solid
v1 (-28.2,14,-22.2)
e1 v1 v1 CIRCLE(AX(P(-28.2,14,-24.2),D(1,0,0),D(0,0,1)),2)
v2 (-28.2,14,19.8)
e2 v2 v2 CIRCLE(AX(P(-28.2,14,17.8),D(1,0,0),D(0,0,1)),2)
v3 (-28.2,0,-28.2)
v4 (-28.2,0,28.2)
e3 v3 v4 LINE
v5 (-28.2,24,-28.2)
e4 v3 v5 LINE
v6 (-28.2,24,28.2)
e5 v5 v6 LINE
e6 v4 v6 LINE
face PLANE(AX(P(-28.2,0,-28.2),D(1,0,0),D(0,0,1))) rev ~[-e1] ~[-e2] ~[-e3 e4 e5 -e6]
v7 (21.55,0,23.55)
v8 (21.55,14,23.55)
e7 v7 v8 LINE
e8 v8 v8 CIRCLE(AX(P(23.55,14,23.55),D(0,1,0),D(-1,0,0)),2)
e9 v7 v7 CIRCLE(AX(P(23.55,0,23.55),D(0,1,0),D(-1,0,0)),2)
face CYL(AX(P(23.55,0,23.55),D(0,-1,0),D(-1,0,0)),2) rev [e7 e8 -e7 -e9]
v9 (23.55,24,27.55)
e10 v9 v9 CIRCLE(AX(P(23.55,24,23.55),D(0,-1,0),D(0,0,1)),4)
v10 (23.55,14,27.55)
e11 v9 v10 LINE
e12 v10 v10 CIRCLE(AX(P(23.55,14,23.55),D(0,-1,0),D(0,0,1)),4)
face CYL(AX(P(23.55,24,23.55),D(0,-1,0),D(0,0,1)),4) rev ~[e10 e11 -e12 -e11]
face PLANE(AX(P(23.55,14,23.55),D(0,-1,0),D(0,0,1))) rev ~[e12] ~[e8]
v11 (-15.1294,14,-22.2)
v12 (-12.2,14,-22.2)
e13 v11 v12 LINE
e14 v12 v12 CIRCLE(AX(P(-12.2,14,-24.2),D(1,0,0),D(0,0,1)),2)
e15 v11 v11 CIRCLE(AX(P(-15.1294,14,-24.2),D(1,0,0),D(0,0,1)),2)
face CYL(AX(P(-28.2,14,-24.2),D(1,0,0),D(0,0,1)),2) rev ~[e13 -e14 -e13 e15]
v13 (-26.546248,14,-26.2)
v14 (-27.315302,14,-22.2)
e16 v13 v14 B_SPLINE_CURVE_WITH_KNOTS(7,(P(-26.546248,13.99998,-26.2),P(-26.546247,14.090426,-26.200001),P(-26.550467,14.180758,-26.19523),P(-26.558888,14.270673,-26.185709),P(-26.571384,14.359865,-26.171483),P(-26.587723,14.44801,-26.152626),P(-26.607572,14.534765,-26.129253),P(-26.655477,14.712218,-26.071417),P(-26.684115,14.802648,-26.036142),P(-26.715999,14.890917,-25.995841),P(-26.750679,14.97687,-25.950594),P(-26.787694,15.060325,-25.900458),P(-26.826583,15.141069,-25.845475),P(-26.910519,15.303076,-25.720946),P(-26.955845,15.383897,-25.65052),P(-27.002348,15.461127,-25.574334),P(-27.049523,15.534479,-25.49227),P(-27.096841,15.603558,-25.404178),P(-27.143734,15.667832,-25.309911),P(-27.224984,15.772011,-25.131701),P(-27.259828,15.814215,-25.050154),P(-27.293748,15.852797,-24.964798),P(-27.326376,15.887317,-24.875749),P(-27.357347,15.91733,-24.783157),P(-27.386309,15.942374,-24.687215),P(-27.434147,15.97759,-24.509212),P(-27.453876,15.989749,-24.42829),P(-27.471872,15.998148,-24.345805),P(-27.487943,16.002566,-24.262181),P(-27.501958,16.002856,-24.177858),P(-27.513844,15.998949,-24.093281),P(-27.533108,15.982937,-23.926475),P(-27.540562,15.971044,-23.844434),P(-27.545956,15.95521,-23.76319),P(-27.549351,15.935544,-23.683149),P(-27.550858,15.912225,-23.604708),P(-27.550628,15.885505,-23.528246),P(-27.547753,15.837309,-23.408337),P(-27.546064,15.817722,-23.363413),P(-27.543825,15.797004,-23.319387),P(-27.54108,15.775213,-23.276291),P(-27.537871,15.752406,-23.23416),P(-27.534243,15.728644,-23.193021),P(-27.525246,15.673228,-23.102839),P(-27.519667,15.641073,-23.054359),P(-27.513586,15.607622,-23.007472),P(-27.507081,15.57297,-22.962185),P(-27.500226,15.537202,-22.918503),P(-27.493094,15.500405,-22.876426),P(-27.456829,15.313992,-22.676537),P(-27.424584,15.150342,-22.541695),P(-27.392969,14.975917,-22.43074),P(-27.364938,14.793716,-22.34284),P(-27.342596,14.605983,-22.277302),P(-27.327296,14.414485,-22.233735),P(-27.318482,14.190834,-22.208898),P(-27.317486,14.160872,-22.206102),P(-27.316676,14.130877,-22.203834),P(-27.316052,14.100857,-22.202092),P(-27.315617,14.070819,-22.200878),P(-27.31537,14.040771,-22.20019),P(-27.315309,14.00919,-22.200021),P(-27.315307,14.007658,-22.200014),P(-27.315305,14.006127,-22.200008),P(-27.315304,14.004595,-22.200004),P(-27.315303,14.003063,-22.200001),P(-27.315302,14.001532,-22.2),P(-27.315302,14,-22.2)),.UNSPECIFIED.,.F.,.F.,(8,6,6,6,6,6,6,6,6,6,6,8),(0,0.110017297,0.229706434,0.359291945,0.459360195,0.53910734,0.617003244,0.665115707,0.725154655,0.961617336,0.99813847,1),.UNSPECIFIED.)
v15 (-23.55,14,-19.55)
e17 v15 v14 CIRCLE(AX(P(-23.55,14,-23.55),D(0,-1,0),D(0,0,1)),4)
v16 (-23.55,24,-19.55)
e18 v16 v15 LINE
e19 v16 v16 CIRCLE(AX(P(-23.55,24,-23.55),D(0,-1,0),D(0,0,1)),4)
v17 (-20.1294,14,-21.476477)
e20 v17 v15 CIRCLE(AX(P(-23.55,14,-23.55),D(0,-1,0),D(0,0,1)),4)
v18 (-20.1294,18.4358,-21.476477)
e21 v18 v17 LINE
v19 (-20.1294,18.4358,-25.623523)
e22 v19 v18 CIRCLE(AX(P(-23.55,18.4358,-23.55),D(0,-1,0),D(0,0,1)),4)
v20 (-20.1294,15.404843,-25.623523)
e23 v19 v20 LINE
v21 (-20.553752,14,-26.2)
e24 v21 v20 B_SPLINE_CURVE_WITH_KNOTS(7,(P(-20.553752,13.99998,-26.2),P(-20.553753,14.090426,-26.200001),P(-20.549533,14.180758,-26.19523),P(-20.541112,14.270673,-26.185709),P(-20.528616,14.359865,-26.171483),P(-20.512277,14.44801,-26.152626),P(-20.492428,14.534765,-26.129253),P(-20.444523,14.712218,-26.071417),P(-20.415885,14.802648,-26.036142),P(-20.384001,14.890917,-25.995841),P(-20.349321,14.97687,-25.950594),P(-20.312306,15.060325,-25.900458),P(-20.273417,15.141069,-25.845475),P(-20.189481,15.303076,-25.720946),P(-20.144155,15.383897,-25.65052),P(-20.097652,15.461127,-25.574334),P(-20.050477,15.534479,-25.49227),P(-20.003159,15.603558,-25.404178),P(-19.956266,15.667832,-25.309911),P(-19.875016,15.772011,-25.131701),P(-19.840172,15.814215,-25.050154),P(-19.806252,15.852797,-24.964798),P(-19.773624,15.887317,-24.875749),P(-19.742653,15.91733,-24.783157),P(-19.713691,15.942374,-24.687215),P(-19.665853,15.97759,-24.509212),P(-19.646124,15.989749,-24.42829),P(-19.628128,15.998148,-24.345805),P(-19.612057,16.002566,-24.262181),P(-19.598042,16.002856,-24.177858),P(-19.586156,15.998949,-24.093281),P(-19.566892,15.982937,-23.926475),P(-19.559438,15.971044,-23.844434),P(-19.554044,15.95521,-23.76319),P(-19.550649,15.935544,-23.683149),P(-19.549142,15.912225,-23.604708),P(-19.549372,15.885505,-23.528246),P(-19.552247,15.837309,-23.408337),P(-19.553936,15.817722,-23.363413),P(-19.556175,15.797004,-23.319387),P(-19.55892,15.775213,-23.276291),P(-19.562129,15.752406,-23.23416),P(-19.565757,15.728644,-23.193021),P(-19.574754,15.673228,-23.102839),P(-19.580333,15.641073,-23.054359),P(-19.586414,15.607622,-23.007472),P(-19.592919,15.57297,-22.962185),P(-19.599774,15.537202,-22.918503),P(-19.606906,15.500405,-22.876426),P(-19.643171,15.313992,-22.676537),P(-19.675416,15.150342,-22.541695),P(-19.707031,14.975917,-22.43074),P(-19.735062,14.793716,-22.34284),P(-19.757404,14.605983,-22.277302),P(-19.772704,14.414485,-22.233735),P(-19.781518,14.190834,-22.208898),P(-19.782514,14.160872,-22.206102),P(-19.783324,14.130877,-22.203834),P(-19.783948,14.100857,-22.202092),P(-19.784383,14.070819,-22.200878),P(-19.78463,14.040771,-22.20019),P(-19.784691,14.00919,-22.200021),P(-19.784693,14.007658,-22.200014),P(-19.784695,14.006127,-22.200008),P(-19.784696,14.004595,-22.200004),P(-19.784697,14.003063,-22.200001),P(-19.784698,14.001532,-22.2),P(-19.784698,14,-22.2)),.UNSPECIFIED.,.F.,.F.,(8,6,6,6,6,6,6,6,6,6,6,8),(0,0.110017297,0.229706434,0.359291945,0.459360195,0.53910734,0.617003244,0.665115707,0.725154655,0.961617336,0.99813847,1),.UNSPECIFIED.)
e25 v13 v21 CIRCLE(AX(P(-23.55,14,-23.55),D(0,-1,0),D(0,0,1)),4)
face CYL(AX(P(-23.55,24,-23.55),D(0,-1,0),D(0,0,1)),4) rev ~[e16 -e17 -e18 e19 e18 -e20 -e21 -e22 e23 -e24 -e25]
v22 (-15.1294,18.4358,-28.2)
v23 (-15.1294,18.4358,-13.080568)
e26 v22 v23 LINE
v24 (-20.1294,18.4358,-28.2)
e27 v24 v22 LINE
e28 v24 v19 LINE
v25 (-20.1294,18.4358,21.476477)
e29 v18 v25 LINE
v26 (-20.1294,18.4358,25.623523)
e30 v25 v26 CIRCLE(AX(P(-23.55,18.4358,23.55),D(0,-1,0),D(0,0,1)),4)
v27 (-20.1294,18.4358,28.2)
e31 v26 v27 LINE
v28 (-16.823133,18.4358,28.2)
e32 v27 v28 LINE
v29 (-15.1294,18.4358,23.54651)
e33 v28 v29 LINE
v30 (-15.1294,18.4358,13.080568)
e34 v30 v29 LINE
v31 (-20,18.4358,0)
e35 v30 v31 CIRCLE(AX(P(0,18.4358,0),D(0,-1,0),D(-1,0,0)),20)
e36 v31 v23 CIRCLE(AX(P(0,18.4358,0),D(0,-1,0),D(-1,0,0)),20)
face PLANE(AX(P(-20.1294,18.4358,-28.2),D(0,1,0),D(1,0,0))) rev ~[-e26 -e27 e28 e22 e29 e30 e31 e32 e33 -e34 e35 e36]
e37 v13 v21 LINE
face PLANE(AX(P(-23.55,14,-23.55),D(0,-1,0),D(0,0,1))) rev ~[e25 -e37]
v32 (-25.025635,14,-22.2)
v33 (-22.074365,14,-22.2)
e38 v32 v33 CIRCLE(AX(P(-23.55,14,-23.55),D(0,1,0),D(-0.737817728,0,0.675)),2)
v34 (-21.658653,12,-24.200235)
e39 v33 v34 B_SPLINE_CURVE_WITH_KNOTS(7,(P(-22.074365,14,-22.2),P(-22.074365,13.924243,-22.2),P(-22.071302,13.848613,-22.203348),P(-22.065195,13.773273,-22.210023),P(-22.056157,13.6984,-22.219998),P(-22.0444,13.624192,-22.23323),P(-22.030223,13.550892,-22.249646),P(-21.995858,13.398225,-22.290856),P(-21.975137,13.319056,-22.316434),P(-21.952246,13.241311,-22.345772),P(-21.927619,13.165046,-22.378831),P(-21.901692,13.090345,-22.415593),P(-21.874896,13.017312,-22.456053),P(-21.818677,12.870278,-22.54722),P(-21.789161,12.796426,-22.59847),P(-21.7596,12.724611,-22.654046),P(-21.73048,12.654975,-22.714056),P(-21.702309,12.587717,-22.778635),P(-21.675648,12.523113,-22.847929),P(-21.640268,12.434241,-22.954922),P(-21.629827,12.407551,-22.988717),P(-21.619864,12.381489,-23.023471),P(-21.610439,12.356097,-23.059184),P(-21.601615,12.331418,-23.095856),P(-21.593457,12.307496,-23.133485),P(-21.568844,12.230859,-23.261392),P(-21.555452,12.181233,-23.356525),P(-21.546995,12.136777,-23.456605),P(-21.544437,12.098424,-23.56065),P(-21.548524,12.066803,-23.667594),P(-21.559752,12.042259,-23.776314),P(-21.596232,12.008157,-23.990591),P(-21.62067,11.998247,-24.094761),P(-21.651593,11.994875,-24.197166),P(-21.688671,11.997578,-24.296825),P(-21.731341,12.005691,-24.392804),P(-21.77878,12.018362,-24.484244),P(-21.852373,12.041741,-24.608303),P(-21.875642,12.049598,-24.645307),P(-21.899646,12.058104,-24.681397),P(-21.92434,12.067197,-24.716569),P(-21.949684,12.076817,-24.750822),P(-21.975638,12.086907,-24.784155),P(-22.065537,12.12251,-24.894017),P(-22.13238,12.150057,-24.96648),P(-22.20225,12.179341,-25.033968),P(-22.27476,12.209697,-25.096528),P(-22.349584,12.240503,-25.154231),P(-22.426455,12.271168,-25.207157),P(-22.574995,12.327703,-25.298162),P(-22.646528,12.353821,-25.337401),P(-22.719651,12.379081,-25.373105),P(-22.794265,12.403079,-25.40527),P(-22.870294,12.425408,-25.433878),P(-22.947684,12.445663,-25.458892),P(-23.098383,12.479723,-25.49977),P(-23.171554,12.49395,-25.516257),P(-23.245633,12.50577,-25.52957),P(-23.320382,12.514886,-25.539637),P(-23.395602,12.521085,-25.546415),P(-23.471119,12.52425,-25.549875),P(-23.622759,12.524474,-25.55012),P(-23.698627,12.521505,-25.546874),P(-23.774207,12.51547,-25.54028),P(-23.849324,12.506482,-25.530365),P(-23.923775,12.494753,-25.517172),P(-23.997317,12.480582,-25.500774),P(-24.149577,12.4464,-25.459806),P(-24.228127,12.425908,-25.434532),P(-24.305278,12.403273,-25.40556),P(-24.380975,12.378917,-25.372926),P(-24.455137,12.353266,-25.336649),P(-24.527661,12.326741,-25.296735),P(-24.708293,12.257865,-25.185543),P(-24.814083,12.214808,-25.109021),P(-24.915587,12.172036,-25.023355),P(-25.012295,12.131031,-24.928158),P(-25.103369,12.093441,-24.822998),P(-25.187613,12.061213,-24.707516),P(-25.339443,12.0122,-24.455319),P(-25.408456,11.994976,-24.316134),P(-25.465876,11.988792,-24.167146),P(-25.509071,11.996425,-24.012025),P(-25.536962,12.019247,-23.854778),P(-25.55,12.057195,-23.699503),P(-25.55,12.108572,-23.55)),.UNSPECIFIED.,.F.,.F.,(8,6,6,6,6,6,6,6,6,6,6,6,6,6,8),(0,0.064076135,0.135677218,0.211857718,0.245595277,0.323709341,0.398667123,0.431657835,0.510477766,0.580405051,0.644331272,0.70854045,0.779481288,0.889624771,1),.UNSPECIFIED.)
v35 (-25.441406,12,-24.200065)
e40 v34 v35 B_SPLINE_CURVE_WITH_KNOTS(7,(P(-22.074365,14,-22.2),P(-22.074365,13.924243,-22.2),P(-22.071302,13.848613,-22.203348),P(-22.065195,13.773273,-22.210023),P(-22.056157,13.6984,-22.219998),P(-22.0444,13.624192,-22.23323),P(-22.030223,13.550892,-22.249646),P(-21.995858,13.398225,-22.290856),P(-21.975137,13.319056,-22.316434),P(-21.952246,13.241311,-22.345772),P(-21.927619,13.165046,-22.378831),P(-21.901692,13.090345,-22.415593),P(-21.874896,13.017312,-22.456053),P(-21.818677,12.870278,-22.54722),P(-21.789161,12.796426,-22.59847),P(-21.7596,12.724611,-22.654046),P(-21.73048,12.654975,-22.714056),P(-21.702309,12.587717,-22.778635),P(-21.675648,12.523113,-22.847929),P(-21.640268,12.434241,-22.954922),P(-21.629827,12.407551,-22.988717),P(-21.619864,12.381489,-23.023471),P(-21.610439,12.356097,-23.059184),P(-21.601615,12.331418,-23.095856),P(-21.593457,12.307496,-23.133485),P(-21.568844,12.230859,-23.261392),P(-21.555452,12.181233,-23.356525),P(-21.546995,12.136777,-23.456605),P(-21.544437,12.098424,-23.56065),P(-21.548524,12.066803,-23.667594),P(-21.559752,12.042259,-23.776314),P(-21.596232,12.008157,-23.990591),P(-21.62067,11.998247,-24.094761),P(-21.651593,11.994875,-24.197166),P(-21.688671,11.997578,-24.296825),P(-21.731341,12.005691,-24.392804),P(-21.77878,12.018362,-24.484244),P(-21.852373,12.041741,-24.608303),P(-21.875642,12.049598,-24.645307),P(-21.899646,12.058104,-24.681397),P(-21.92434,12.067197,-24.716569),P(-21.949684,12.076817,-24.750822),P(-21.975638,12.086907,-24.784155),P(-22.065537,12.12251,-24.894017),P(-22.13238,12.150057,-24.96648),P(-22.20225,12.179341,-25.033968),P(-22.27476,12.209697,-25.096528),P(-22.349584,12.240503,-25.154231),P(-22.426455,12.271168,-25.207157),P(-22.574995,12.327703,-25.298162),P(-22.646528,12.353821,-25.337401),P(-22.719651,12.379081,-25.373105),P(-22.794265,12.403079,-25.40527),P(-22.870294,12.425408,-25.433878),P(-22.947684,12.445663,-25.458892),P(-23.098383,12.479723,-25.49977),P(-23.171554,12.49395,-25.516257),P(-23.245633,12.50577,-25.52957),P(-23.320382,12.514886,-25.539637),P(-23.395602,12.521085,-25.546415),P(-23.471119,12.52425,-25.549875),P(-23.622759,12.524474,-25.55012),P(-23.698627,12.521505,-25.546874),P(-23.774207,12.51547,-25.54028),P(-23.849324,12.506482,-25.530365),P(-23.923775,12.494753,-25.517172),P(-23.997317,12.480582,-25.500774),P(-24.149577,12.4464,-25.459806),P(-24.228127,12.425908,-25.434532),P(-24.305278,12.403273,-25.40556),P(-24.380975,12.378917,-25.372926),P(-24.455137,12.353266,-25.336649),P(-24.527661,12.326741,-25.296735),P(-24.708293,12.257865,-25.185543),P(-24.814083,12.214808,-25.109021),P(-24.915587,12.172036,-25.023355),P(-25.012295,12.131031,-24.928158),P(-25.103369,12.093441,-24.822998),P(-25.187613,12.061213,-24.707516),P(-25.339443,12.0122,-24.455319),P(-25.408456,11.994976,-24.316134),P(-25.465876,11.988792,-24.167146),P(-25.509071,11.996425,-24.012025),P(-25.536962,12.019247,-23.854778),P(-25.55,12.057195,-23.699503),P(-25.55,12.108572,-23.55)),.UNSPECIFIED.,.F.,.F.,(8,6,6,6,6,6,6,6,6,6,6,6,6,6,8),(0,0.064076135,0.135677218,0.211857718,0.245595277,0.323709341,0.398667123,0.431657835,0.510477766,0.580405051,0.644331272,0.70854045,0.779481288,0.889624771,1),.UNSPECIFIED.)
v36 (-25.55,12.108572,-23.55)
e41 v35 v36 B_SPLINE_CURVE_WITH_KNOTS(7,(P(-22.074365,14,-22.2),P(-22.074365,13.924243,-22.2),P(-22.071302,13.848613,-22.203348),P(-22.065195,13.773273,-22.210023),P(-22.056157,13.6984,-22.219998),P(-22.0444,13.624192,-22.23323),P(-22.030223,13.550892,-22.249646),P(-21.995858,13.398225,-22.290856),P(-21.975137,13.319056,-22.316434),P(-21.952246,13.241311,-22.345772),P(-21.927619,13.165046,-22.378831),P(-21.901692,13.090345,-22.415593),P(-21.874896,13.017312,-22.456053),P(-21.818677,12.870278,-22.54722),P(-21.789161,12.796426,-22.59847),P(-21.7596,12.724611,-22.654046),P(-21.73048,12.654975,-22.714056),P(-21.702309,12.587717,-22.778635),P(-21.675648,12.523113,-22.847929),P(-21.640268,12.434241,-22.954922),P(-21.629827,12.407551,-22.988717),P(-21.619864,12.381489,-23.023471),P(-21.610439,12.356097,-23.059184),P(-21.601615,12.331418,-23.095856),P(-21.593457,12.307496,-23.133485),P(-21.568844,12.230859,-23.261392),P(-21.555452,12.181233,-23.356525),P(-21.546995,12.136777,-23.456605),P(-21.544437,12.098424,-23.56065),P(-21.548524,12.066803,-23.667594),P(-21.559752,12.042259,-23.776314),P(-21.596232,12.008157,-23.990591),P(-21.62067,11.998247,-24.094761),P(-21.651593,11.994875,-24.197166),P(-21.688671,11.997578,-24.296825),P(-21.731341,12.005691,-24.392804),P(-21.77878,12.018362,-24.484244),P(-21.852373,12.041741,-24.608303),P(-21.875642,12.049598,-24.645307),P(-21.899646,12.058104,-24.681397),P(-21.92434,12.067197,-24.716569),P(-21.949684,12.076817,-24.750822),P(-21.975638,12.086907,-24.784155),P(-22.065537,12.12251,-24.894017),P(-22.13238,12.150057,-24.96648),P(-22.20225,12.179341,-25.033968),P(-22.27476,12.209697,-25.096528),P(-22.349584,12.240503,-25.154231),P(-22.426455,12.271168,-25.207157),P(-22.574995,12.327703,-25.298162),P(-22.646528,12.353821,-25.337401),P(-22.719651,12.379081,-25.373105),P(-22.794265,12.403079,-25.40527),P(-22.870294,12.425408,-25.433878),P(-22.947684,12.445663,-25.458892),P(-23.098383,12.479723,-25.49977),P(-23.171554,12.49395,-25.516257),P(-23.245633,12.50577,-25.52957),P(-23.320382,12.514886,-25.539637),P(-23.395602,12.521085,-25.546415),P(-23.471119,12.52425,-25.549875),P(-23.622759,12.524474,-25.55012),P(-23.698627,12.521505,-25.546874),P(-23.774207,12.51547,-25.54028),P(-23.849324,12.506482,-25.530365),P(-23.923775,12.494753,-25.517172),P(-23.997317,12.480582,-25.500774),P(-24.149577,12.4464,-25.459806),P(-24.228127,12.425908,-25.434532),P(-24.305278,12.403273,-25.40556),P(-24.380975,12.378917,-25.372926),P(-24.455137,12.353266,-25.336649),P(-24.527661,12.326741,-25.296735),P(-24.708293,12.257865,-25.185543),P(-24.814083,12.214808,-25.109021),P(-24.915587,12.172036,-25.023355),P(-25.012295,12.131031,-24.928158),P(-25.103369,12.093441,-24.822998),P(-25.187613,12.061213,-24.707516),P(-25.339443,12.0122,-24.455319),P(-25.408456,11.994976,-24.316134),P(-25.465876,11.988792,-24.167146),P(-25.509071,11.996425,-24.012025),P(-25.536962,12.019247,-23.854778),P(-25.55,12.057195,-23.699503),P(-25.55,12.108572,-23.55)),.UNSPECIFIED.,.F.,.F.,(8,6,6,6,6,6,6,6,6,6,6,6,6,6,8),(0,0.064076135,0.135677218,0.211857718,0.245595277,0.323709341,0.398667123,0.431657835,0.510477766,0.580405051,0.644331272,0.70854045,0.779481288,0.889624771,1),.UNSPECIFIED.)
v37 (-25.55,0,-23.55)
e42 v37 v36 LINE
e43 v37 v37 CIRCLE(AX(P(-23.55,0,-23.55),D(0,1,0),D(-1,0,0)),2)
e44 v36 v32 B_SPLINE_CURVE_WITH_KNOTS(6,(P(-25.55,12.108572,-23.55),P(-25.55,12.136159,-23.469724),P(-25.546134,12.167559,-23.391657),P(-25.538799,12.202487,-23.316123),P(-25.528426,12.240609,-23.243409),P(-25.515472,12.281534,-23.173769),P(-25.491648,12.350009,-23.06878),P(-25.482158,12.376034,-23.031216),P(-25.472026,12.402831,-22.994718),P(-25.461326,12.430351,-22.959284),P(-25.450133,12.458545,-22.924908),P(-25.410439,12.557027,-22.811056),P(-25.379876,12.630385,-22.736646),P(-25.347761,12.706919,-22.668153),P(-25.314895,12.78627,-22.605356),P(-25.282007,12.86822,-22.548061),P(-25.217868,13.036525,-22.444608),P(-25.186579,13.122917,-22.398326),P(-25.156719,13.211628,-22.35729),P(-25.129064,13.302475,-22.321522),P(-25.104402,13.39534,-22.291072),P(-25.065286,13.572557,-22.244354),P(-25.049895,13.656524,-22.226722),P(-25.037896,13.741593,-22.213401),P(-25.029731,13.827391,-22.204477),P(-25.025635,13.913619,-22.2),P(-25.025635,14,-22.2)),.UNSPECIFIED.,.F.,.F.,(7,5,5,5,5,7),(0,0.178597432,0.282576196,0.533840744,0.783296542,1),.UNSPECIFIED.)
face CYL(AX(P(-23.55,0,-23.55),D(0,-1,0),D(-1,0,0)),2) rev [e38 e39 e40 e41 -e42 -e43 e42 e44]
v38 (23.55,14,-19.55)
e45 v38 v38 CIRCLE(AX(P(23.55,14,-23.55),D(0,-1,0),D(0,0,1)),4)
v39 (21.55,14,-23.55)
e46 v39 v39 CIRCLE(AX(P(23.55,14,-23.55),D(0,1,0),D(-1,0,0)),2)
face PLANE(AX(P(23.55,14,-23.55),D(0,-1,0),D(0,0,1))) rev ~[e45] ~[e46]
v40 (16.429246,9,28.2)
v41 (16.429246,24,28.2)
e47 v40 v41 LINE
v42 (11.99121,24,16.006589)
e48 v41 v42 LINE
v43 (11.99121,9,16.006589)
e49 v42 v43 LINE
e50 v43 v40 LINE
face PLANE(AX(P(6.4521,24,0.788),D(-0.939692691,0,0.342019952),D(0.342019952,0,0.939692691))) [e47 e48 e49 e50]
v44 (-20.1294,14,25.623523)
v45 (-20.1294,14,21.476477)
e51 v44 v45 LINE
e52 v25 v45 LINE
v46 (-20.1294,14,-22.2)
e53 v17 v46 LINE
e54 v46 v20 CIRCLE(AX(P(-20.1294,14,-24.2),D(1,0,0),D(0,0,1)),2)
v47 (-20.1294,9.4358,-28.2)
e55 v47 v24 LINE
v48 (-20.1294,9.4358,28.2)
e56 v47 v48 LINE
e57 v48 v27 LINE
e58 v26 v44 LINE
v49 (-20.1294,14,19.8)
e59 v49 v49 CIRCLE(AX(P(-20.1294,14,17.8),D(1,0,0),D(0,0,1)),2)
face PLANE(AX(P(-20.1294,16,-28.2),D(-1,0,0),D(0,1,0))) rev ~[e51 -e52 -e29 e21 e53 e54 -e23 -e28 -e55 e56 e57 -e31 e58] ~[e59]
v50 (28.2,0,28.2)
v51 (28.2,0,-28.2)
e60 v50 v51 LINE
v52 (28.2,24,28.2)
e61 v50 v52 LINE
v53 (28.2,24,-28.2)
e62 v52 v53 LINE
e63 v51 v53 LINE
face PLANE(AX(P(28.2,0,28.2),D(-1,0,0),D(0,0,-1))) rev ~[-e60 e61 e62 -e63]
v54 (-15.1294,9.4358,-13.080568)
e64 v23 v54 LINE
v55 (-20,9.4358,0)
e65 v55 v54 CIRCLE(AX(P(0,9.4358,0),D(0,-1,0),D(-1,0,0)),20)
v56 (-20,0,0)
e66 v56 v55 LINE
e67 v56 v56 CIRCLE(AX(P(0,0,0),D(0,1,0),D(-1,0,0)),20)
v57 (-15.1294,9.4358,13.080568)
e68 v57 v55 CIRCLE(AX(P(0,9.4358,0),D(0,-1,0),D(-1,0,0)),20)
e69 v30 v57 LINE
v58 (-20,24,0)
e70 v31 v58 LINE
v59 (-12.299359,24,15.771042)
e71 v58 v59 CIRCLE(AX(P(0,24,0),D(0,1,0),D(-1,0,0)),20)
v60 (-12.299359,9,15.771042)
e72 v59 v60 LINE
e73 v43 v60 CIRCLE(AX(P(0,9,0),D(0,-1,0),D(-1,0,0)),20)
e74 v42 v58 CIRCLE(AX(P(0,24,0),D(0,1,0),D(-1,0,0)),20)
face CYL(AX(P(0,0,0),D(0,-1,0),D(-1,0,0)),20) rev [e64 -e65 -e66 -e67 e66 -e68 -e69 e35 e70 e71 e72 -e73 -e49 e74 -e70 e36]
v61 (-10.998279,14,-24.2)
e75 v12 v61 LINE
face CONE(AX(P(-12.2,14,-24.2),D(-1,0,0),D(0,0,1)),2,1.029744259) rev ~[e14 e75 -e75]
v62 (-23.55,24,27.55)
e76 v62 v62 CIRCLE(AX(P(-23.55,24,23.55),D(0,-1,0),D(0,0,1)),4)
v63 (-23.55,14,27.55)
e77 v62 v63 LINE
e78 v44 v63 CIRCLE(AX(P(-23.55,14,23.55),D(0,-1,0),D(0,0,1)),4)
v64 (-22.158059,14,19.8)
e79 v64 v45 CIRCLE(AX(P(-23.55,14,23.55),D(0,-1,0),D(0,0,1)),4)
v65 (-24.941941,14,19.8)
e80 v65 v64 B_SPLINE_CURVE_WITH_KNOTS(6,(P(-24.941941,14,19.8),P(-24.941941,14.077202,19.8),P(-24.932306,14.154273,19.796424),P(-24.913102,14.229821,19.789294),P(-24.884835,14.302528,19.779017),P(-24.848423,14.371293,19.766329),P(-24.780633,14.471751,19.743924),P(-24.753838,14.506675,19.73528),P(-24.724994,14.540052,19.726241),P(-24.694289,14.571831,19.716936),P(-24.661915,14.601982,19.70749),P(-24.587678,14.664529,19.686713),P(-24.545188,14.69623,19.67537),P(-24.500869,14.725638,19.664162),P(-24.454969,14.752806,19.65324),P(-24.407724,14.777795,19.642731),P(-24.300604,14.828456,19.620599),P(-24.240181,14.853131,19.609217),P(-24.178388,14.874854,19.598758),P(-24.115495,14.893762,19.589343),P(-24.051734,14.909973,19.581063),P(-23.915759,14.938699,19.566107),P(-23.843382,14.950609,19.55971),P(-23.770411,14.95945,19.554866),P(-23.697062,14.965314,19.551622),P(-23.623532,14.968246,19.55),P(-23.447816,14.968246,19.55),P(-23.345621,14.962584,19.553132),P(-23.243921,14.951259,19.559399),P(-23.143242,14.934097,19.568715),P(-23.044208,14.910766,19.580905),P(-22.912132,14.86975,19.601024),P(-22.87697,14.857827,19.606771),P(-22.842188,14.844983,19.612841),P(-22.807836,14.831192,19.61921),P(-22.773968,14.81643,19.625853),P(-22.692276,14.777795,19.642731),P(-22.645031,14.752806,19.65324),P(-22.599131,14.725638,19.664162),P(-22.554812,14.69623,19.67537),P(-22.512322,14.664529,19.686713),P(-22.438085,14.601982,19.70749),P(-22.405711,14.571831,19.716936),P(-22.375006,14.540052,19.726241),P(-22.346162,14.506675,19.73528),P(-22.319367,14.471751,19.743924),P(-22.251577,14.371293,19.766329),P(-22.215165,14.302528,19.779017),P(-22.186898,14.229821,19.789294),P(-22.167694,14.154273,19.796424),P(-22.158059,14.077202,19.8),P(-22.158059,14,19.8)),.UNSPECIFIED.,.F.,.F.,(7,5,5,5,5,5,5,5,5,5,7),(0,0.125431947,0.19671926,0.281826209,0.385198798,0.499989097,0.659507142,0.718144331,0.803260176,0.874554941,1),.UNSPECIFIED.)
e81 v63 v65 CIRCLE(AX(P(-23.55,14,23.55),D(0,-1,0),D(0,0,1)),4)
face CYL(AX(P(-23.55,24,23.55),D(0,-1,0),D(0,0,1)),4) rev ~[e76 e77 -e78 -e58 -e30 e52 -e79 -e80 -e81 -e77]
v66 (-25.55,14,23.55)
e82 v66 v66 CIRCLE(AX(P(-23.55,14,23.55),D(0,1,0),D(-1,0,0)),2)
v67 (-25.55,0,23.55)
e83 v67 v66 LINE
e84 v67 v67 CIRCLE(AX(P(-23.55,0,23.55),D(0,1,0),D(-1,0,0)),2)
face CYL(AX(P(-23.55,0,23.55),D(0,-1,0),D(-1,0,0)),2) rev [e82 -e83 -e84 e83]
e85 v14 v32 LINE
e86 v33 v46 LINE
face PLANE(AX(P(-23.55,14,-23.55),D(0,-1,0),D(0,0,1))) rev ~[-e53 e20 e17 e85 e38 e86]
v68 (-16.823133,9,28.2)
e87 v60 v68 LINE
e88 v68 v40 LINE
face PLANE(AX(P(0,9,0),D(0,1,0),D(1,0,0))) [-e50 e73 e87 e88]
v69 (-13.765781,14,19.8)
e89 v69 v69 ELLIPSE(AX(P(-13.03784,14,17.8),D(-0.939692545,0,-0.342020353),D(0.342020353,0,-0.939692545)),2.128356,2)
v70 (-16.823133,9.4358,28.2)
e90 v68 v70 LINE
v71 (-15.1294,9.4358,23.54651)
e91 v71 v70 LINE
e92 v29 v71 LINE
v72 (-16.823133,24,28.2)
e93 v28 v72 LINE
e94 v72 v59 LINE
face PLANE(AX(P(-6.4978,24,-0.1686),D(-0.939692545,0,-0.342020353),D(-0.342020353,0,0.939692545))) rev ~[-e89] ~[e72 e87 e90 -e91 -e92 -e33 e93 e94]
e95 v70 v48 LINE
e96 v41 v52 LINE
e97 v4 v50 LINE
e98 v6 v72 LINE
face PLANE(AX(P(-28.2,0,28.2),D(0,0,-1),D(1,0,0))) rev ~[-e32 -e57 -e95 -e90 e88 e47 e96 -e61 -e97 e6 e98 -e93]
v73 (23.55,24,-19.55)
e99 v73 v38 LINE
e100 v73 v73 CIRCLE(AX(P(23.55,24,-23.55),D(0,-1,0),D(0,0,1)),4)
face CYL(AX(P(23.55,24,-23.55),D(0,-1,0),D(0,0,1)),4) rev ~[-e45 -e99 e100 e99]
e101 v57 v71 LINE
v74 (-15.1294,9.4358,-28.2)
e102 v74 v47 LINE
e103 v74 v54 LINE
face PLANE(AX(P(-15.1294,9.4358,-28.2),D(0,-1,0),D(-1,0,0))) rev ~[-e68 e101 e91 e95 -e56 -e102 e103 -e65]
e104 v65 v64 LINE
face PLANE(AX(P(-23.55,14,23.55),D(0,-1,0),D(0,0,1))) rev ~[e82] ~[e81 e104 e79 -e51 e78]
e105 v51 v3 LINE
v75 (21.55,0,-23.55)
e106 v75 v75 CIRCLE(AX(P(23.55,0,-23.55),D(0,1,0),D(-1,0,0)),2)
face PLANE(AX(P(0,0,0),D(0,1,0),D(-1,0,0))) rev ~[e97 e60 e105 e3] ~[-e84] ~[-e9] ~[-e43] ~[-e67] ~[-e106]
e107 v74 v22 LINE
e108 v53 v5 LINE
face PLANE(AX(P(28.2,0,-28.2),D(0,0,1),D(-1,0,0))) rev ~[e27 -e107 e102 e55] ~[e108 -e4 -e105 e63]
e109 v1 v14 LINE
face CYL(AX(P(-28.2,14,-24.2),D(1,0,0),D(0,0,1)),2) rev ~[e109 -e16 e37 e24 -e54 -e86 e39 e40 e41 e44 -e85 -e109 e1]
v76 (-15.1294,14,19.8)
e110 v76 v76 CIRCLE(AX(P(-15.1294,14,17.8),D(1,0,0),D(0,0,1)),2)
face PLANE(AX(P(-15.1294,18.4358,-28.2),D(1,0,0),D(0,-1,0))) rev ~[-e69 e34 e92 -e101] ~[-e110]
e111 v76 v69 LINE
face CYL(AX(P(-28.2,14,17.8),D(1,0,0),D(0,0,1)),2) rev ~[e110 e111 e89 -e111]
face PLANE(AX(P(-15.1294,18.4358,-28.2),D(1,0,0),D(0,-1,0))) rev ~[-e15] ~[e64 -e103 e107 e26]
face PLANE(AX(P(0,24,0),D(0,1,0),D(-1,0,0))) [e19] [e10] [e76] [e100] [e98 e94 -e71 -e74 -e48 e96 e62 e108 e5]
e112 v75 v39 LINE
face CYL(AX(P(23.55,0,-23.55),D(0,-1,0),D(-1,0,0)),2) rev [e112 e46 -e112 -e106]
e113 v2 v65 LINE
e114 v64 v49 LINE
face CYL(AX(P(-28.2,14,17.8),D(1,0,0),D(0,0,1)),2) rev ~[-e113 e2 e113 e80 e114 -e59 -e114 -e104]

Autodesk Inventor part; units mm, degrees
ref_plane "YZ Plane" through (0, 0, 0) normal (1, 0, 0) x (0, 1, 0)
ref_plane "XZ Plane" through (0, 0, 0) normal (0, 1, 0) x (-1, 0, 0)
ref_plane "XY Plane" through (0, 0, 0) normal (0, 0, 1) x (1, 0, 0)
sketch "Sketch1" plane through (0, 0, 0) normal (0, 1, 0) x (-1, 0, 0)
  line L0 (-28.2, -28.2) -> (28.2, -28.2)
  line L1 (28.2, -28.2) -> (28.2, 28.2)
  line L2 (28.2, 28.2) -> (-28.2, 28.2)
  line L3 (-28.2, 28.2) -> (-28.2, -28.2)
  line L4 (-28.2, -28.2) -> (28.2, 28.2) construction
  line L5 (28.2, -28.2) -> (-28.2, 28.2) construction
  line L6 (-23.55, 23.55) -> (23.55, 23.55) construction
  line L7 (23.55, 23.55) -> (23.55, -23.55) construction
  line L8 (23.55, -23.55) -> (-23.55, -23.55) construction
  line L9 (-23.55, -23.55) -> (-23.55, 23.55) construction
  line L10 (-23.55, 23.55) -> (23.55, -23.55) construction
  line L11 (23.55, 23.55) -> (-23.55, -23.55) construction
  circle A0 centre (23.55, 23.55) radius 2
  circle A1 centre (23.55, -23.55) radius 2
  circle A2 centre (-23.55, -23.55) radius 2
  circle A3 centre (-23.55, 23.55) radius 2
  circle A4 centre (0, 0) radius 20
  line L12 (28.2, 28.2) -> (-28.2, 28.2)
  line L13 (-28.2, 28.2) -> (-28.2, 38.2)
  line L14 (-28.2, 38.2) -> (28.2, 38.2)
  line L15 (28.2, 38.2) -> (28.2, 28.2)
  dimension "d0" = 56.4
  dimension "d1" = 56.4
  dimension "d2" = 47.1
  dimension "d3" = 47.1
  dimension "d4" = 4
  dimension "d5" = 4
  dimension "d6" = 4
  dimension "d7" = 4
  dimension "d8" = 40
  dimension "d16" = 10
extrude "Extrusion1" add sketch "Sketch1" along normal blind 24 contours L3 L2 L1 L0
sketch "Sketch2" plane through (0, 24, 0) normal (0, 1, 0) x (1, 0, 0)
  circle A0 centre (0, 0) radius 20 projected
  circle A1 centre (23.55, -23.55) radius 2 projected
  circle A2 centre (23.55, 23.55) radius 2 projected
  circle A3 centre (-23.55, 23.55) radius 2 projected
  circle A4 centre (-23.55, -23.55) radius 2 projected
  line L0 (28.2, 28.2) -> (-28.2, 28.2) projected
  line L1 (-28.2, 28.2) -> (-28.2, -28.2) projected
  line L2 (28.2, -28.2) -> (28.2, 28.2) projected
  circle A5 centre (0, 0) radius 6.5
  line L3 (-6.4978, 0.1686) -> (-26.2939, -54.2207)
  line L4 (-6.4978, 0.1686) -> (51.3822, 0.1686) construction
  line L5 (6.4521, -0.788) -> (25.9, -54.2207)
  line L6 (6.4521, -0.788) -> (63.314, -0.788) construction
  line L7 (25.9, -54.2207) -> (-26.2939, -54.2207)
  line L8 (-28.2, -28.2) -> (28.2, -28.2) projected
  dimension "d11" = 110
  dimension "d12" = 70
  dimension "d13" = 13
extrude "Extrusion2" cut sketch "Sketch2" against normal blind 15 contours L3 A5 L5 A0 | A0 L5 L8 L3 | A5 | L8 L5 L7 L3 picked at (-8.2958, -12.9873)
sketch "Sketch3" plane through (-28.2, 0, -28.2) normal (-1, 0, 0) x (0, 0, 1)
  line L0 (0, 0) -> (56.4, 0) projected
  line L1 (0, 24) -> (56.4, 24) projected
  line L2 (0, 0) -> (0, 24) projected
  line L3 (49.75, 24) -> (53.75, 24) projected
  line L4 (53.75, 0) -> (49.75, 0) projected
  line L5 (2.65, 24) -> (6.65, 24) projected
  line L6 (6.65, 0) -> (2.65, 0) projected
  line L7 (6.65, 0) -> (6.65, 24) projected
  line L8 (2.65, 0) -> (2.65, 24) projected
  line L9 (49.75, 0) -> (49.75, 24) projected
  line L10 (53.75, 0) -> (53.75, 24) projected
  line L11 (56.4, 0) -> (56.4, 24) projected
  point P0 (28.2, 0)
sketch "Sketch4" plane through (-28.2, 0, -28.2) normal (-1, 0, 0) x (0, 0, 1)
  line L0 (0, 0) -> (56.4, 0) projected
  line L1 (0, 24) -> (56.4, 24) projected
  line L2 (0, 0) -> (0, 24) projected
  circle A0 centre (4, 14) radius 2.5
  circle A1 centre (46, 14) radius 2.5
  line L3 (4.5098, 0) -> (4.5098, 24) construction
  line L4 (0, 24) -> (66.4, 24) construction
  line L5 (56.4, 0) -> (56.4, 24) projected
  point P0 (28.2, 0)
  dimension "d17" = 5
  dimension "d18" = 5
  dimension "d19" = 4.5098
  dimension "d20" = 4
  dimension "d21" = 14
  dimension "d22" = 0
  dimension "d23" = 42
hole "Hole1" at (-28.2, 14, -24.2) at (-28.2, 14, 17.8) direction (1, 0, 0) diameter 4 depth 16 tip angle 118
sketch "Sketch5" plane through (0, 24, 0) normal (0, 1, 0) x (1, 0, 0)
  line L0 (-16.8232, -28.2) -> (-12.2994, -15.771) projected
  arc A0 (11.9912, -16.0066) -> (-12.2994, -15.771) centre (0, 0) ccw projected
  line L1 (11.9912, -16.0066) -> (16.4292, -28.2) projected
  line L2 (28.2, -28.2) -> (28.2, 28.2) projected
  line L3 (28.2, 28.2) -> (-28.2, 28.2) projected
  line L4 (-28.2, 28.2) -> (-28.2, -28.2) projected
  circle A1 centre (23.55, -23.55) radius 2 projected
  circle A2 centre (23.55, 23.55) radius 2 projected
  circle A3 centre (-23.55, 23.55) radius 2 projected
  circle A4 centre (-23.55, -23.55) radius 2 projected
  line L5 (16.4292, -28.2) -> (28.2, -28.2) projected
  line L6 (-28.2, -28.2) -> (-16.8232, -28.2) projected
hole "Hole2" at (-23.55, 24, 23.55) at (-23.55, 24, -23.55) at (23.55, 24, -23.55) at (23.55, 24, 23.55) direction (0, -1, 0) diameter 4 depth 12 tip angle 118 counterbore diameter 8 counterbore depth 10
sketch "Sketch6" plane through (28.2, 0, -28.2) normal (0, 0, -1) x (-1, 0, 0)
  line L0 (41.2379, 16) -> (56.4, 16) projected
  line L1 (40.4, 12) -> (56.4, 12) projected
  line L2 (48.3294, 18.4358) -> (43.3294, 18.4358)
  line L3 (43.3294, 18.4358) -> (43.3294, 9.4358)
  line L4 (43.3294, 9.4358) -> (48.3294, 9.4358)
  line L5 (48.3294, 9.4358) -> (48.3294, 18.4358)
  line L6 (48.3294, 18.4358) -> (43.3294, 9.4358) construction
  line L7 (43.3294, 18.4358) -> (48.3294, 9.4358) construction
  point P0 (28.2, 0)
  point P1 (45.8294, 13.9358)
  dimension "d38" = 9
  dimension "d39" = 5
extrude "Extrusion3" cut sketch "Sketch6" against normal through all
properties part number "00_NEMA23_holder"
